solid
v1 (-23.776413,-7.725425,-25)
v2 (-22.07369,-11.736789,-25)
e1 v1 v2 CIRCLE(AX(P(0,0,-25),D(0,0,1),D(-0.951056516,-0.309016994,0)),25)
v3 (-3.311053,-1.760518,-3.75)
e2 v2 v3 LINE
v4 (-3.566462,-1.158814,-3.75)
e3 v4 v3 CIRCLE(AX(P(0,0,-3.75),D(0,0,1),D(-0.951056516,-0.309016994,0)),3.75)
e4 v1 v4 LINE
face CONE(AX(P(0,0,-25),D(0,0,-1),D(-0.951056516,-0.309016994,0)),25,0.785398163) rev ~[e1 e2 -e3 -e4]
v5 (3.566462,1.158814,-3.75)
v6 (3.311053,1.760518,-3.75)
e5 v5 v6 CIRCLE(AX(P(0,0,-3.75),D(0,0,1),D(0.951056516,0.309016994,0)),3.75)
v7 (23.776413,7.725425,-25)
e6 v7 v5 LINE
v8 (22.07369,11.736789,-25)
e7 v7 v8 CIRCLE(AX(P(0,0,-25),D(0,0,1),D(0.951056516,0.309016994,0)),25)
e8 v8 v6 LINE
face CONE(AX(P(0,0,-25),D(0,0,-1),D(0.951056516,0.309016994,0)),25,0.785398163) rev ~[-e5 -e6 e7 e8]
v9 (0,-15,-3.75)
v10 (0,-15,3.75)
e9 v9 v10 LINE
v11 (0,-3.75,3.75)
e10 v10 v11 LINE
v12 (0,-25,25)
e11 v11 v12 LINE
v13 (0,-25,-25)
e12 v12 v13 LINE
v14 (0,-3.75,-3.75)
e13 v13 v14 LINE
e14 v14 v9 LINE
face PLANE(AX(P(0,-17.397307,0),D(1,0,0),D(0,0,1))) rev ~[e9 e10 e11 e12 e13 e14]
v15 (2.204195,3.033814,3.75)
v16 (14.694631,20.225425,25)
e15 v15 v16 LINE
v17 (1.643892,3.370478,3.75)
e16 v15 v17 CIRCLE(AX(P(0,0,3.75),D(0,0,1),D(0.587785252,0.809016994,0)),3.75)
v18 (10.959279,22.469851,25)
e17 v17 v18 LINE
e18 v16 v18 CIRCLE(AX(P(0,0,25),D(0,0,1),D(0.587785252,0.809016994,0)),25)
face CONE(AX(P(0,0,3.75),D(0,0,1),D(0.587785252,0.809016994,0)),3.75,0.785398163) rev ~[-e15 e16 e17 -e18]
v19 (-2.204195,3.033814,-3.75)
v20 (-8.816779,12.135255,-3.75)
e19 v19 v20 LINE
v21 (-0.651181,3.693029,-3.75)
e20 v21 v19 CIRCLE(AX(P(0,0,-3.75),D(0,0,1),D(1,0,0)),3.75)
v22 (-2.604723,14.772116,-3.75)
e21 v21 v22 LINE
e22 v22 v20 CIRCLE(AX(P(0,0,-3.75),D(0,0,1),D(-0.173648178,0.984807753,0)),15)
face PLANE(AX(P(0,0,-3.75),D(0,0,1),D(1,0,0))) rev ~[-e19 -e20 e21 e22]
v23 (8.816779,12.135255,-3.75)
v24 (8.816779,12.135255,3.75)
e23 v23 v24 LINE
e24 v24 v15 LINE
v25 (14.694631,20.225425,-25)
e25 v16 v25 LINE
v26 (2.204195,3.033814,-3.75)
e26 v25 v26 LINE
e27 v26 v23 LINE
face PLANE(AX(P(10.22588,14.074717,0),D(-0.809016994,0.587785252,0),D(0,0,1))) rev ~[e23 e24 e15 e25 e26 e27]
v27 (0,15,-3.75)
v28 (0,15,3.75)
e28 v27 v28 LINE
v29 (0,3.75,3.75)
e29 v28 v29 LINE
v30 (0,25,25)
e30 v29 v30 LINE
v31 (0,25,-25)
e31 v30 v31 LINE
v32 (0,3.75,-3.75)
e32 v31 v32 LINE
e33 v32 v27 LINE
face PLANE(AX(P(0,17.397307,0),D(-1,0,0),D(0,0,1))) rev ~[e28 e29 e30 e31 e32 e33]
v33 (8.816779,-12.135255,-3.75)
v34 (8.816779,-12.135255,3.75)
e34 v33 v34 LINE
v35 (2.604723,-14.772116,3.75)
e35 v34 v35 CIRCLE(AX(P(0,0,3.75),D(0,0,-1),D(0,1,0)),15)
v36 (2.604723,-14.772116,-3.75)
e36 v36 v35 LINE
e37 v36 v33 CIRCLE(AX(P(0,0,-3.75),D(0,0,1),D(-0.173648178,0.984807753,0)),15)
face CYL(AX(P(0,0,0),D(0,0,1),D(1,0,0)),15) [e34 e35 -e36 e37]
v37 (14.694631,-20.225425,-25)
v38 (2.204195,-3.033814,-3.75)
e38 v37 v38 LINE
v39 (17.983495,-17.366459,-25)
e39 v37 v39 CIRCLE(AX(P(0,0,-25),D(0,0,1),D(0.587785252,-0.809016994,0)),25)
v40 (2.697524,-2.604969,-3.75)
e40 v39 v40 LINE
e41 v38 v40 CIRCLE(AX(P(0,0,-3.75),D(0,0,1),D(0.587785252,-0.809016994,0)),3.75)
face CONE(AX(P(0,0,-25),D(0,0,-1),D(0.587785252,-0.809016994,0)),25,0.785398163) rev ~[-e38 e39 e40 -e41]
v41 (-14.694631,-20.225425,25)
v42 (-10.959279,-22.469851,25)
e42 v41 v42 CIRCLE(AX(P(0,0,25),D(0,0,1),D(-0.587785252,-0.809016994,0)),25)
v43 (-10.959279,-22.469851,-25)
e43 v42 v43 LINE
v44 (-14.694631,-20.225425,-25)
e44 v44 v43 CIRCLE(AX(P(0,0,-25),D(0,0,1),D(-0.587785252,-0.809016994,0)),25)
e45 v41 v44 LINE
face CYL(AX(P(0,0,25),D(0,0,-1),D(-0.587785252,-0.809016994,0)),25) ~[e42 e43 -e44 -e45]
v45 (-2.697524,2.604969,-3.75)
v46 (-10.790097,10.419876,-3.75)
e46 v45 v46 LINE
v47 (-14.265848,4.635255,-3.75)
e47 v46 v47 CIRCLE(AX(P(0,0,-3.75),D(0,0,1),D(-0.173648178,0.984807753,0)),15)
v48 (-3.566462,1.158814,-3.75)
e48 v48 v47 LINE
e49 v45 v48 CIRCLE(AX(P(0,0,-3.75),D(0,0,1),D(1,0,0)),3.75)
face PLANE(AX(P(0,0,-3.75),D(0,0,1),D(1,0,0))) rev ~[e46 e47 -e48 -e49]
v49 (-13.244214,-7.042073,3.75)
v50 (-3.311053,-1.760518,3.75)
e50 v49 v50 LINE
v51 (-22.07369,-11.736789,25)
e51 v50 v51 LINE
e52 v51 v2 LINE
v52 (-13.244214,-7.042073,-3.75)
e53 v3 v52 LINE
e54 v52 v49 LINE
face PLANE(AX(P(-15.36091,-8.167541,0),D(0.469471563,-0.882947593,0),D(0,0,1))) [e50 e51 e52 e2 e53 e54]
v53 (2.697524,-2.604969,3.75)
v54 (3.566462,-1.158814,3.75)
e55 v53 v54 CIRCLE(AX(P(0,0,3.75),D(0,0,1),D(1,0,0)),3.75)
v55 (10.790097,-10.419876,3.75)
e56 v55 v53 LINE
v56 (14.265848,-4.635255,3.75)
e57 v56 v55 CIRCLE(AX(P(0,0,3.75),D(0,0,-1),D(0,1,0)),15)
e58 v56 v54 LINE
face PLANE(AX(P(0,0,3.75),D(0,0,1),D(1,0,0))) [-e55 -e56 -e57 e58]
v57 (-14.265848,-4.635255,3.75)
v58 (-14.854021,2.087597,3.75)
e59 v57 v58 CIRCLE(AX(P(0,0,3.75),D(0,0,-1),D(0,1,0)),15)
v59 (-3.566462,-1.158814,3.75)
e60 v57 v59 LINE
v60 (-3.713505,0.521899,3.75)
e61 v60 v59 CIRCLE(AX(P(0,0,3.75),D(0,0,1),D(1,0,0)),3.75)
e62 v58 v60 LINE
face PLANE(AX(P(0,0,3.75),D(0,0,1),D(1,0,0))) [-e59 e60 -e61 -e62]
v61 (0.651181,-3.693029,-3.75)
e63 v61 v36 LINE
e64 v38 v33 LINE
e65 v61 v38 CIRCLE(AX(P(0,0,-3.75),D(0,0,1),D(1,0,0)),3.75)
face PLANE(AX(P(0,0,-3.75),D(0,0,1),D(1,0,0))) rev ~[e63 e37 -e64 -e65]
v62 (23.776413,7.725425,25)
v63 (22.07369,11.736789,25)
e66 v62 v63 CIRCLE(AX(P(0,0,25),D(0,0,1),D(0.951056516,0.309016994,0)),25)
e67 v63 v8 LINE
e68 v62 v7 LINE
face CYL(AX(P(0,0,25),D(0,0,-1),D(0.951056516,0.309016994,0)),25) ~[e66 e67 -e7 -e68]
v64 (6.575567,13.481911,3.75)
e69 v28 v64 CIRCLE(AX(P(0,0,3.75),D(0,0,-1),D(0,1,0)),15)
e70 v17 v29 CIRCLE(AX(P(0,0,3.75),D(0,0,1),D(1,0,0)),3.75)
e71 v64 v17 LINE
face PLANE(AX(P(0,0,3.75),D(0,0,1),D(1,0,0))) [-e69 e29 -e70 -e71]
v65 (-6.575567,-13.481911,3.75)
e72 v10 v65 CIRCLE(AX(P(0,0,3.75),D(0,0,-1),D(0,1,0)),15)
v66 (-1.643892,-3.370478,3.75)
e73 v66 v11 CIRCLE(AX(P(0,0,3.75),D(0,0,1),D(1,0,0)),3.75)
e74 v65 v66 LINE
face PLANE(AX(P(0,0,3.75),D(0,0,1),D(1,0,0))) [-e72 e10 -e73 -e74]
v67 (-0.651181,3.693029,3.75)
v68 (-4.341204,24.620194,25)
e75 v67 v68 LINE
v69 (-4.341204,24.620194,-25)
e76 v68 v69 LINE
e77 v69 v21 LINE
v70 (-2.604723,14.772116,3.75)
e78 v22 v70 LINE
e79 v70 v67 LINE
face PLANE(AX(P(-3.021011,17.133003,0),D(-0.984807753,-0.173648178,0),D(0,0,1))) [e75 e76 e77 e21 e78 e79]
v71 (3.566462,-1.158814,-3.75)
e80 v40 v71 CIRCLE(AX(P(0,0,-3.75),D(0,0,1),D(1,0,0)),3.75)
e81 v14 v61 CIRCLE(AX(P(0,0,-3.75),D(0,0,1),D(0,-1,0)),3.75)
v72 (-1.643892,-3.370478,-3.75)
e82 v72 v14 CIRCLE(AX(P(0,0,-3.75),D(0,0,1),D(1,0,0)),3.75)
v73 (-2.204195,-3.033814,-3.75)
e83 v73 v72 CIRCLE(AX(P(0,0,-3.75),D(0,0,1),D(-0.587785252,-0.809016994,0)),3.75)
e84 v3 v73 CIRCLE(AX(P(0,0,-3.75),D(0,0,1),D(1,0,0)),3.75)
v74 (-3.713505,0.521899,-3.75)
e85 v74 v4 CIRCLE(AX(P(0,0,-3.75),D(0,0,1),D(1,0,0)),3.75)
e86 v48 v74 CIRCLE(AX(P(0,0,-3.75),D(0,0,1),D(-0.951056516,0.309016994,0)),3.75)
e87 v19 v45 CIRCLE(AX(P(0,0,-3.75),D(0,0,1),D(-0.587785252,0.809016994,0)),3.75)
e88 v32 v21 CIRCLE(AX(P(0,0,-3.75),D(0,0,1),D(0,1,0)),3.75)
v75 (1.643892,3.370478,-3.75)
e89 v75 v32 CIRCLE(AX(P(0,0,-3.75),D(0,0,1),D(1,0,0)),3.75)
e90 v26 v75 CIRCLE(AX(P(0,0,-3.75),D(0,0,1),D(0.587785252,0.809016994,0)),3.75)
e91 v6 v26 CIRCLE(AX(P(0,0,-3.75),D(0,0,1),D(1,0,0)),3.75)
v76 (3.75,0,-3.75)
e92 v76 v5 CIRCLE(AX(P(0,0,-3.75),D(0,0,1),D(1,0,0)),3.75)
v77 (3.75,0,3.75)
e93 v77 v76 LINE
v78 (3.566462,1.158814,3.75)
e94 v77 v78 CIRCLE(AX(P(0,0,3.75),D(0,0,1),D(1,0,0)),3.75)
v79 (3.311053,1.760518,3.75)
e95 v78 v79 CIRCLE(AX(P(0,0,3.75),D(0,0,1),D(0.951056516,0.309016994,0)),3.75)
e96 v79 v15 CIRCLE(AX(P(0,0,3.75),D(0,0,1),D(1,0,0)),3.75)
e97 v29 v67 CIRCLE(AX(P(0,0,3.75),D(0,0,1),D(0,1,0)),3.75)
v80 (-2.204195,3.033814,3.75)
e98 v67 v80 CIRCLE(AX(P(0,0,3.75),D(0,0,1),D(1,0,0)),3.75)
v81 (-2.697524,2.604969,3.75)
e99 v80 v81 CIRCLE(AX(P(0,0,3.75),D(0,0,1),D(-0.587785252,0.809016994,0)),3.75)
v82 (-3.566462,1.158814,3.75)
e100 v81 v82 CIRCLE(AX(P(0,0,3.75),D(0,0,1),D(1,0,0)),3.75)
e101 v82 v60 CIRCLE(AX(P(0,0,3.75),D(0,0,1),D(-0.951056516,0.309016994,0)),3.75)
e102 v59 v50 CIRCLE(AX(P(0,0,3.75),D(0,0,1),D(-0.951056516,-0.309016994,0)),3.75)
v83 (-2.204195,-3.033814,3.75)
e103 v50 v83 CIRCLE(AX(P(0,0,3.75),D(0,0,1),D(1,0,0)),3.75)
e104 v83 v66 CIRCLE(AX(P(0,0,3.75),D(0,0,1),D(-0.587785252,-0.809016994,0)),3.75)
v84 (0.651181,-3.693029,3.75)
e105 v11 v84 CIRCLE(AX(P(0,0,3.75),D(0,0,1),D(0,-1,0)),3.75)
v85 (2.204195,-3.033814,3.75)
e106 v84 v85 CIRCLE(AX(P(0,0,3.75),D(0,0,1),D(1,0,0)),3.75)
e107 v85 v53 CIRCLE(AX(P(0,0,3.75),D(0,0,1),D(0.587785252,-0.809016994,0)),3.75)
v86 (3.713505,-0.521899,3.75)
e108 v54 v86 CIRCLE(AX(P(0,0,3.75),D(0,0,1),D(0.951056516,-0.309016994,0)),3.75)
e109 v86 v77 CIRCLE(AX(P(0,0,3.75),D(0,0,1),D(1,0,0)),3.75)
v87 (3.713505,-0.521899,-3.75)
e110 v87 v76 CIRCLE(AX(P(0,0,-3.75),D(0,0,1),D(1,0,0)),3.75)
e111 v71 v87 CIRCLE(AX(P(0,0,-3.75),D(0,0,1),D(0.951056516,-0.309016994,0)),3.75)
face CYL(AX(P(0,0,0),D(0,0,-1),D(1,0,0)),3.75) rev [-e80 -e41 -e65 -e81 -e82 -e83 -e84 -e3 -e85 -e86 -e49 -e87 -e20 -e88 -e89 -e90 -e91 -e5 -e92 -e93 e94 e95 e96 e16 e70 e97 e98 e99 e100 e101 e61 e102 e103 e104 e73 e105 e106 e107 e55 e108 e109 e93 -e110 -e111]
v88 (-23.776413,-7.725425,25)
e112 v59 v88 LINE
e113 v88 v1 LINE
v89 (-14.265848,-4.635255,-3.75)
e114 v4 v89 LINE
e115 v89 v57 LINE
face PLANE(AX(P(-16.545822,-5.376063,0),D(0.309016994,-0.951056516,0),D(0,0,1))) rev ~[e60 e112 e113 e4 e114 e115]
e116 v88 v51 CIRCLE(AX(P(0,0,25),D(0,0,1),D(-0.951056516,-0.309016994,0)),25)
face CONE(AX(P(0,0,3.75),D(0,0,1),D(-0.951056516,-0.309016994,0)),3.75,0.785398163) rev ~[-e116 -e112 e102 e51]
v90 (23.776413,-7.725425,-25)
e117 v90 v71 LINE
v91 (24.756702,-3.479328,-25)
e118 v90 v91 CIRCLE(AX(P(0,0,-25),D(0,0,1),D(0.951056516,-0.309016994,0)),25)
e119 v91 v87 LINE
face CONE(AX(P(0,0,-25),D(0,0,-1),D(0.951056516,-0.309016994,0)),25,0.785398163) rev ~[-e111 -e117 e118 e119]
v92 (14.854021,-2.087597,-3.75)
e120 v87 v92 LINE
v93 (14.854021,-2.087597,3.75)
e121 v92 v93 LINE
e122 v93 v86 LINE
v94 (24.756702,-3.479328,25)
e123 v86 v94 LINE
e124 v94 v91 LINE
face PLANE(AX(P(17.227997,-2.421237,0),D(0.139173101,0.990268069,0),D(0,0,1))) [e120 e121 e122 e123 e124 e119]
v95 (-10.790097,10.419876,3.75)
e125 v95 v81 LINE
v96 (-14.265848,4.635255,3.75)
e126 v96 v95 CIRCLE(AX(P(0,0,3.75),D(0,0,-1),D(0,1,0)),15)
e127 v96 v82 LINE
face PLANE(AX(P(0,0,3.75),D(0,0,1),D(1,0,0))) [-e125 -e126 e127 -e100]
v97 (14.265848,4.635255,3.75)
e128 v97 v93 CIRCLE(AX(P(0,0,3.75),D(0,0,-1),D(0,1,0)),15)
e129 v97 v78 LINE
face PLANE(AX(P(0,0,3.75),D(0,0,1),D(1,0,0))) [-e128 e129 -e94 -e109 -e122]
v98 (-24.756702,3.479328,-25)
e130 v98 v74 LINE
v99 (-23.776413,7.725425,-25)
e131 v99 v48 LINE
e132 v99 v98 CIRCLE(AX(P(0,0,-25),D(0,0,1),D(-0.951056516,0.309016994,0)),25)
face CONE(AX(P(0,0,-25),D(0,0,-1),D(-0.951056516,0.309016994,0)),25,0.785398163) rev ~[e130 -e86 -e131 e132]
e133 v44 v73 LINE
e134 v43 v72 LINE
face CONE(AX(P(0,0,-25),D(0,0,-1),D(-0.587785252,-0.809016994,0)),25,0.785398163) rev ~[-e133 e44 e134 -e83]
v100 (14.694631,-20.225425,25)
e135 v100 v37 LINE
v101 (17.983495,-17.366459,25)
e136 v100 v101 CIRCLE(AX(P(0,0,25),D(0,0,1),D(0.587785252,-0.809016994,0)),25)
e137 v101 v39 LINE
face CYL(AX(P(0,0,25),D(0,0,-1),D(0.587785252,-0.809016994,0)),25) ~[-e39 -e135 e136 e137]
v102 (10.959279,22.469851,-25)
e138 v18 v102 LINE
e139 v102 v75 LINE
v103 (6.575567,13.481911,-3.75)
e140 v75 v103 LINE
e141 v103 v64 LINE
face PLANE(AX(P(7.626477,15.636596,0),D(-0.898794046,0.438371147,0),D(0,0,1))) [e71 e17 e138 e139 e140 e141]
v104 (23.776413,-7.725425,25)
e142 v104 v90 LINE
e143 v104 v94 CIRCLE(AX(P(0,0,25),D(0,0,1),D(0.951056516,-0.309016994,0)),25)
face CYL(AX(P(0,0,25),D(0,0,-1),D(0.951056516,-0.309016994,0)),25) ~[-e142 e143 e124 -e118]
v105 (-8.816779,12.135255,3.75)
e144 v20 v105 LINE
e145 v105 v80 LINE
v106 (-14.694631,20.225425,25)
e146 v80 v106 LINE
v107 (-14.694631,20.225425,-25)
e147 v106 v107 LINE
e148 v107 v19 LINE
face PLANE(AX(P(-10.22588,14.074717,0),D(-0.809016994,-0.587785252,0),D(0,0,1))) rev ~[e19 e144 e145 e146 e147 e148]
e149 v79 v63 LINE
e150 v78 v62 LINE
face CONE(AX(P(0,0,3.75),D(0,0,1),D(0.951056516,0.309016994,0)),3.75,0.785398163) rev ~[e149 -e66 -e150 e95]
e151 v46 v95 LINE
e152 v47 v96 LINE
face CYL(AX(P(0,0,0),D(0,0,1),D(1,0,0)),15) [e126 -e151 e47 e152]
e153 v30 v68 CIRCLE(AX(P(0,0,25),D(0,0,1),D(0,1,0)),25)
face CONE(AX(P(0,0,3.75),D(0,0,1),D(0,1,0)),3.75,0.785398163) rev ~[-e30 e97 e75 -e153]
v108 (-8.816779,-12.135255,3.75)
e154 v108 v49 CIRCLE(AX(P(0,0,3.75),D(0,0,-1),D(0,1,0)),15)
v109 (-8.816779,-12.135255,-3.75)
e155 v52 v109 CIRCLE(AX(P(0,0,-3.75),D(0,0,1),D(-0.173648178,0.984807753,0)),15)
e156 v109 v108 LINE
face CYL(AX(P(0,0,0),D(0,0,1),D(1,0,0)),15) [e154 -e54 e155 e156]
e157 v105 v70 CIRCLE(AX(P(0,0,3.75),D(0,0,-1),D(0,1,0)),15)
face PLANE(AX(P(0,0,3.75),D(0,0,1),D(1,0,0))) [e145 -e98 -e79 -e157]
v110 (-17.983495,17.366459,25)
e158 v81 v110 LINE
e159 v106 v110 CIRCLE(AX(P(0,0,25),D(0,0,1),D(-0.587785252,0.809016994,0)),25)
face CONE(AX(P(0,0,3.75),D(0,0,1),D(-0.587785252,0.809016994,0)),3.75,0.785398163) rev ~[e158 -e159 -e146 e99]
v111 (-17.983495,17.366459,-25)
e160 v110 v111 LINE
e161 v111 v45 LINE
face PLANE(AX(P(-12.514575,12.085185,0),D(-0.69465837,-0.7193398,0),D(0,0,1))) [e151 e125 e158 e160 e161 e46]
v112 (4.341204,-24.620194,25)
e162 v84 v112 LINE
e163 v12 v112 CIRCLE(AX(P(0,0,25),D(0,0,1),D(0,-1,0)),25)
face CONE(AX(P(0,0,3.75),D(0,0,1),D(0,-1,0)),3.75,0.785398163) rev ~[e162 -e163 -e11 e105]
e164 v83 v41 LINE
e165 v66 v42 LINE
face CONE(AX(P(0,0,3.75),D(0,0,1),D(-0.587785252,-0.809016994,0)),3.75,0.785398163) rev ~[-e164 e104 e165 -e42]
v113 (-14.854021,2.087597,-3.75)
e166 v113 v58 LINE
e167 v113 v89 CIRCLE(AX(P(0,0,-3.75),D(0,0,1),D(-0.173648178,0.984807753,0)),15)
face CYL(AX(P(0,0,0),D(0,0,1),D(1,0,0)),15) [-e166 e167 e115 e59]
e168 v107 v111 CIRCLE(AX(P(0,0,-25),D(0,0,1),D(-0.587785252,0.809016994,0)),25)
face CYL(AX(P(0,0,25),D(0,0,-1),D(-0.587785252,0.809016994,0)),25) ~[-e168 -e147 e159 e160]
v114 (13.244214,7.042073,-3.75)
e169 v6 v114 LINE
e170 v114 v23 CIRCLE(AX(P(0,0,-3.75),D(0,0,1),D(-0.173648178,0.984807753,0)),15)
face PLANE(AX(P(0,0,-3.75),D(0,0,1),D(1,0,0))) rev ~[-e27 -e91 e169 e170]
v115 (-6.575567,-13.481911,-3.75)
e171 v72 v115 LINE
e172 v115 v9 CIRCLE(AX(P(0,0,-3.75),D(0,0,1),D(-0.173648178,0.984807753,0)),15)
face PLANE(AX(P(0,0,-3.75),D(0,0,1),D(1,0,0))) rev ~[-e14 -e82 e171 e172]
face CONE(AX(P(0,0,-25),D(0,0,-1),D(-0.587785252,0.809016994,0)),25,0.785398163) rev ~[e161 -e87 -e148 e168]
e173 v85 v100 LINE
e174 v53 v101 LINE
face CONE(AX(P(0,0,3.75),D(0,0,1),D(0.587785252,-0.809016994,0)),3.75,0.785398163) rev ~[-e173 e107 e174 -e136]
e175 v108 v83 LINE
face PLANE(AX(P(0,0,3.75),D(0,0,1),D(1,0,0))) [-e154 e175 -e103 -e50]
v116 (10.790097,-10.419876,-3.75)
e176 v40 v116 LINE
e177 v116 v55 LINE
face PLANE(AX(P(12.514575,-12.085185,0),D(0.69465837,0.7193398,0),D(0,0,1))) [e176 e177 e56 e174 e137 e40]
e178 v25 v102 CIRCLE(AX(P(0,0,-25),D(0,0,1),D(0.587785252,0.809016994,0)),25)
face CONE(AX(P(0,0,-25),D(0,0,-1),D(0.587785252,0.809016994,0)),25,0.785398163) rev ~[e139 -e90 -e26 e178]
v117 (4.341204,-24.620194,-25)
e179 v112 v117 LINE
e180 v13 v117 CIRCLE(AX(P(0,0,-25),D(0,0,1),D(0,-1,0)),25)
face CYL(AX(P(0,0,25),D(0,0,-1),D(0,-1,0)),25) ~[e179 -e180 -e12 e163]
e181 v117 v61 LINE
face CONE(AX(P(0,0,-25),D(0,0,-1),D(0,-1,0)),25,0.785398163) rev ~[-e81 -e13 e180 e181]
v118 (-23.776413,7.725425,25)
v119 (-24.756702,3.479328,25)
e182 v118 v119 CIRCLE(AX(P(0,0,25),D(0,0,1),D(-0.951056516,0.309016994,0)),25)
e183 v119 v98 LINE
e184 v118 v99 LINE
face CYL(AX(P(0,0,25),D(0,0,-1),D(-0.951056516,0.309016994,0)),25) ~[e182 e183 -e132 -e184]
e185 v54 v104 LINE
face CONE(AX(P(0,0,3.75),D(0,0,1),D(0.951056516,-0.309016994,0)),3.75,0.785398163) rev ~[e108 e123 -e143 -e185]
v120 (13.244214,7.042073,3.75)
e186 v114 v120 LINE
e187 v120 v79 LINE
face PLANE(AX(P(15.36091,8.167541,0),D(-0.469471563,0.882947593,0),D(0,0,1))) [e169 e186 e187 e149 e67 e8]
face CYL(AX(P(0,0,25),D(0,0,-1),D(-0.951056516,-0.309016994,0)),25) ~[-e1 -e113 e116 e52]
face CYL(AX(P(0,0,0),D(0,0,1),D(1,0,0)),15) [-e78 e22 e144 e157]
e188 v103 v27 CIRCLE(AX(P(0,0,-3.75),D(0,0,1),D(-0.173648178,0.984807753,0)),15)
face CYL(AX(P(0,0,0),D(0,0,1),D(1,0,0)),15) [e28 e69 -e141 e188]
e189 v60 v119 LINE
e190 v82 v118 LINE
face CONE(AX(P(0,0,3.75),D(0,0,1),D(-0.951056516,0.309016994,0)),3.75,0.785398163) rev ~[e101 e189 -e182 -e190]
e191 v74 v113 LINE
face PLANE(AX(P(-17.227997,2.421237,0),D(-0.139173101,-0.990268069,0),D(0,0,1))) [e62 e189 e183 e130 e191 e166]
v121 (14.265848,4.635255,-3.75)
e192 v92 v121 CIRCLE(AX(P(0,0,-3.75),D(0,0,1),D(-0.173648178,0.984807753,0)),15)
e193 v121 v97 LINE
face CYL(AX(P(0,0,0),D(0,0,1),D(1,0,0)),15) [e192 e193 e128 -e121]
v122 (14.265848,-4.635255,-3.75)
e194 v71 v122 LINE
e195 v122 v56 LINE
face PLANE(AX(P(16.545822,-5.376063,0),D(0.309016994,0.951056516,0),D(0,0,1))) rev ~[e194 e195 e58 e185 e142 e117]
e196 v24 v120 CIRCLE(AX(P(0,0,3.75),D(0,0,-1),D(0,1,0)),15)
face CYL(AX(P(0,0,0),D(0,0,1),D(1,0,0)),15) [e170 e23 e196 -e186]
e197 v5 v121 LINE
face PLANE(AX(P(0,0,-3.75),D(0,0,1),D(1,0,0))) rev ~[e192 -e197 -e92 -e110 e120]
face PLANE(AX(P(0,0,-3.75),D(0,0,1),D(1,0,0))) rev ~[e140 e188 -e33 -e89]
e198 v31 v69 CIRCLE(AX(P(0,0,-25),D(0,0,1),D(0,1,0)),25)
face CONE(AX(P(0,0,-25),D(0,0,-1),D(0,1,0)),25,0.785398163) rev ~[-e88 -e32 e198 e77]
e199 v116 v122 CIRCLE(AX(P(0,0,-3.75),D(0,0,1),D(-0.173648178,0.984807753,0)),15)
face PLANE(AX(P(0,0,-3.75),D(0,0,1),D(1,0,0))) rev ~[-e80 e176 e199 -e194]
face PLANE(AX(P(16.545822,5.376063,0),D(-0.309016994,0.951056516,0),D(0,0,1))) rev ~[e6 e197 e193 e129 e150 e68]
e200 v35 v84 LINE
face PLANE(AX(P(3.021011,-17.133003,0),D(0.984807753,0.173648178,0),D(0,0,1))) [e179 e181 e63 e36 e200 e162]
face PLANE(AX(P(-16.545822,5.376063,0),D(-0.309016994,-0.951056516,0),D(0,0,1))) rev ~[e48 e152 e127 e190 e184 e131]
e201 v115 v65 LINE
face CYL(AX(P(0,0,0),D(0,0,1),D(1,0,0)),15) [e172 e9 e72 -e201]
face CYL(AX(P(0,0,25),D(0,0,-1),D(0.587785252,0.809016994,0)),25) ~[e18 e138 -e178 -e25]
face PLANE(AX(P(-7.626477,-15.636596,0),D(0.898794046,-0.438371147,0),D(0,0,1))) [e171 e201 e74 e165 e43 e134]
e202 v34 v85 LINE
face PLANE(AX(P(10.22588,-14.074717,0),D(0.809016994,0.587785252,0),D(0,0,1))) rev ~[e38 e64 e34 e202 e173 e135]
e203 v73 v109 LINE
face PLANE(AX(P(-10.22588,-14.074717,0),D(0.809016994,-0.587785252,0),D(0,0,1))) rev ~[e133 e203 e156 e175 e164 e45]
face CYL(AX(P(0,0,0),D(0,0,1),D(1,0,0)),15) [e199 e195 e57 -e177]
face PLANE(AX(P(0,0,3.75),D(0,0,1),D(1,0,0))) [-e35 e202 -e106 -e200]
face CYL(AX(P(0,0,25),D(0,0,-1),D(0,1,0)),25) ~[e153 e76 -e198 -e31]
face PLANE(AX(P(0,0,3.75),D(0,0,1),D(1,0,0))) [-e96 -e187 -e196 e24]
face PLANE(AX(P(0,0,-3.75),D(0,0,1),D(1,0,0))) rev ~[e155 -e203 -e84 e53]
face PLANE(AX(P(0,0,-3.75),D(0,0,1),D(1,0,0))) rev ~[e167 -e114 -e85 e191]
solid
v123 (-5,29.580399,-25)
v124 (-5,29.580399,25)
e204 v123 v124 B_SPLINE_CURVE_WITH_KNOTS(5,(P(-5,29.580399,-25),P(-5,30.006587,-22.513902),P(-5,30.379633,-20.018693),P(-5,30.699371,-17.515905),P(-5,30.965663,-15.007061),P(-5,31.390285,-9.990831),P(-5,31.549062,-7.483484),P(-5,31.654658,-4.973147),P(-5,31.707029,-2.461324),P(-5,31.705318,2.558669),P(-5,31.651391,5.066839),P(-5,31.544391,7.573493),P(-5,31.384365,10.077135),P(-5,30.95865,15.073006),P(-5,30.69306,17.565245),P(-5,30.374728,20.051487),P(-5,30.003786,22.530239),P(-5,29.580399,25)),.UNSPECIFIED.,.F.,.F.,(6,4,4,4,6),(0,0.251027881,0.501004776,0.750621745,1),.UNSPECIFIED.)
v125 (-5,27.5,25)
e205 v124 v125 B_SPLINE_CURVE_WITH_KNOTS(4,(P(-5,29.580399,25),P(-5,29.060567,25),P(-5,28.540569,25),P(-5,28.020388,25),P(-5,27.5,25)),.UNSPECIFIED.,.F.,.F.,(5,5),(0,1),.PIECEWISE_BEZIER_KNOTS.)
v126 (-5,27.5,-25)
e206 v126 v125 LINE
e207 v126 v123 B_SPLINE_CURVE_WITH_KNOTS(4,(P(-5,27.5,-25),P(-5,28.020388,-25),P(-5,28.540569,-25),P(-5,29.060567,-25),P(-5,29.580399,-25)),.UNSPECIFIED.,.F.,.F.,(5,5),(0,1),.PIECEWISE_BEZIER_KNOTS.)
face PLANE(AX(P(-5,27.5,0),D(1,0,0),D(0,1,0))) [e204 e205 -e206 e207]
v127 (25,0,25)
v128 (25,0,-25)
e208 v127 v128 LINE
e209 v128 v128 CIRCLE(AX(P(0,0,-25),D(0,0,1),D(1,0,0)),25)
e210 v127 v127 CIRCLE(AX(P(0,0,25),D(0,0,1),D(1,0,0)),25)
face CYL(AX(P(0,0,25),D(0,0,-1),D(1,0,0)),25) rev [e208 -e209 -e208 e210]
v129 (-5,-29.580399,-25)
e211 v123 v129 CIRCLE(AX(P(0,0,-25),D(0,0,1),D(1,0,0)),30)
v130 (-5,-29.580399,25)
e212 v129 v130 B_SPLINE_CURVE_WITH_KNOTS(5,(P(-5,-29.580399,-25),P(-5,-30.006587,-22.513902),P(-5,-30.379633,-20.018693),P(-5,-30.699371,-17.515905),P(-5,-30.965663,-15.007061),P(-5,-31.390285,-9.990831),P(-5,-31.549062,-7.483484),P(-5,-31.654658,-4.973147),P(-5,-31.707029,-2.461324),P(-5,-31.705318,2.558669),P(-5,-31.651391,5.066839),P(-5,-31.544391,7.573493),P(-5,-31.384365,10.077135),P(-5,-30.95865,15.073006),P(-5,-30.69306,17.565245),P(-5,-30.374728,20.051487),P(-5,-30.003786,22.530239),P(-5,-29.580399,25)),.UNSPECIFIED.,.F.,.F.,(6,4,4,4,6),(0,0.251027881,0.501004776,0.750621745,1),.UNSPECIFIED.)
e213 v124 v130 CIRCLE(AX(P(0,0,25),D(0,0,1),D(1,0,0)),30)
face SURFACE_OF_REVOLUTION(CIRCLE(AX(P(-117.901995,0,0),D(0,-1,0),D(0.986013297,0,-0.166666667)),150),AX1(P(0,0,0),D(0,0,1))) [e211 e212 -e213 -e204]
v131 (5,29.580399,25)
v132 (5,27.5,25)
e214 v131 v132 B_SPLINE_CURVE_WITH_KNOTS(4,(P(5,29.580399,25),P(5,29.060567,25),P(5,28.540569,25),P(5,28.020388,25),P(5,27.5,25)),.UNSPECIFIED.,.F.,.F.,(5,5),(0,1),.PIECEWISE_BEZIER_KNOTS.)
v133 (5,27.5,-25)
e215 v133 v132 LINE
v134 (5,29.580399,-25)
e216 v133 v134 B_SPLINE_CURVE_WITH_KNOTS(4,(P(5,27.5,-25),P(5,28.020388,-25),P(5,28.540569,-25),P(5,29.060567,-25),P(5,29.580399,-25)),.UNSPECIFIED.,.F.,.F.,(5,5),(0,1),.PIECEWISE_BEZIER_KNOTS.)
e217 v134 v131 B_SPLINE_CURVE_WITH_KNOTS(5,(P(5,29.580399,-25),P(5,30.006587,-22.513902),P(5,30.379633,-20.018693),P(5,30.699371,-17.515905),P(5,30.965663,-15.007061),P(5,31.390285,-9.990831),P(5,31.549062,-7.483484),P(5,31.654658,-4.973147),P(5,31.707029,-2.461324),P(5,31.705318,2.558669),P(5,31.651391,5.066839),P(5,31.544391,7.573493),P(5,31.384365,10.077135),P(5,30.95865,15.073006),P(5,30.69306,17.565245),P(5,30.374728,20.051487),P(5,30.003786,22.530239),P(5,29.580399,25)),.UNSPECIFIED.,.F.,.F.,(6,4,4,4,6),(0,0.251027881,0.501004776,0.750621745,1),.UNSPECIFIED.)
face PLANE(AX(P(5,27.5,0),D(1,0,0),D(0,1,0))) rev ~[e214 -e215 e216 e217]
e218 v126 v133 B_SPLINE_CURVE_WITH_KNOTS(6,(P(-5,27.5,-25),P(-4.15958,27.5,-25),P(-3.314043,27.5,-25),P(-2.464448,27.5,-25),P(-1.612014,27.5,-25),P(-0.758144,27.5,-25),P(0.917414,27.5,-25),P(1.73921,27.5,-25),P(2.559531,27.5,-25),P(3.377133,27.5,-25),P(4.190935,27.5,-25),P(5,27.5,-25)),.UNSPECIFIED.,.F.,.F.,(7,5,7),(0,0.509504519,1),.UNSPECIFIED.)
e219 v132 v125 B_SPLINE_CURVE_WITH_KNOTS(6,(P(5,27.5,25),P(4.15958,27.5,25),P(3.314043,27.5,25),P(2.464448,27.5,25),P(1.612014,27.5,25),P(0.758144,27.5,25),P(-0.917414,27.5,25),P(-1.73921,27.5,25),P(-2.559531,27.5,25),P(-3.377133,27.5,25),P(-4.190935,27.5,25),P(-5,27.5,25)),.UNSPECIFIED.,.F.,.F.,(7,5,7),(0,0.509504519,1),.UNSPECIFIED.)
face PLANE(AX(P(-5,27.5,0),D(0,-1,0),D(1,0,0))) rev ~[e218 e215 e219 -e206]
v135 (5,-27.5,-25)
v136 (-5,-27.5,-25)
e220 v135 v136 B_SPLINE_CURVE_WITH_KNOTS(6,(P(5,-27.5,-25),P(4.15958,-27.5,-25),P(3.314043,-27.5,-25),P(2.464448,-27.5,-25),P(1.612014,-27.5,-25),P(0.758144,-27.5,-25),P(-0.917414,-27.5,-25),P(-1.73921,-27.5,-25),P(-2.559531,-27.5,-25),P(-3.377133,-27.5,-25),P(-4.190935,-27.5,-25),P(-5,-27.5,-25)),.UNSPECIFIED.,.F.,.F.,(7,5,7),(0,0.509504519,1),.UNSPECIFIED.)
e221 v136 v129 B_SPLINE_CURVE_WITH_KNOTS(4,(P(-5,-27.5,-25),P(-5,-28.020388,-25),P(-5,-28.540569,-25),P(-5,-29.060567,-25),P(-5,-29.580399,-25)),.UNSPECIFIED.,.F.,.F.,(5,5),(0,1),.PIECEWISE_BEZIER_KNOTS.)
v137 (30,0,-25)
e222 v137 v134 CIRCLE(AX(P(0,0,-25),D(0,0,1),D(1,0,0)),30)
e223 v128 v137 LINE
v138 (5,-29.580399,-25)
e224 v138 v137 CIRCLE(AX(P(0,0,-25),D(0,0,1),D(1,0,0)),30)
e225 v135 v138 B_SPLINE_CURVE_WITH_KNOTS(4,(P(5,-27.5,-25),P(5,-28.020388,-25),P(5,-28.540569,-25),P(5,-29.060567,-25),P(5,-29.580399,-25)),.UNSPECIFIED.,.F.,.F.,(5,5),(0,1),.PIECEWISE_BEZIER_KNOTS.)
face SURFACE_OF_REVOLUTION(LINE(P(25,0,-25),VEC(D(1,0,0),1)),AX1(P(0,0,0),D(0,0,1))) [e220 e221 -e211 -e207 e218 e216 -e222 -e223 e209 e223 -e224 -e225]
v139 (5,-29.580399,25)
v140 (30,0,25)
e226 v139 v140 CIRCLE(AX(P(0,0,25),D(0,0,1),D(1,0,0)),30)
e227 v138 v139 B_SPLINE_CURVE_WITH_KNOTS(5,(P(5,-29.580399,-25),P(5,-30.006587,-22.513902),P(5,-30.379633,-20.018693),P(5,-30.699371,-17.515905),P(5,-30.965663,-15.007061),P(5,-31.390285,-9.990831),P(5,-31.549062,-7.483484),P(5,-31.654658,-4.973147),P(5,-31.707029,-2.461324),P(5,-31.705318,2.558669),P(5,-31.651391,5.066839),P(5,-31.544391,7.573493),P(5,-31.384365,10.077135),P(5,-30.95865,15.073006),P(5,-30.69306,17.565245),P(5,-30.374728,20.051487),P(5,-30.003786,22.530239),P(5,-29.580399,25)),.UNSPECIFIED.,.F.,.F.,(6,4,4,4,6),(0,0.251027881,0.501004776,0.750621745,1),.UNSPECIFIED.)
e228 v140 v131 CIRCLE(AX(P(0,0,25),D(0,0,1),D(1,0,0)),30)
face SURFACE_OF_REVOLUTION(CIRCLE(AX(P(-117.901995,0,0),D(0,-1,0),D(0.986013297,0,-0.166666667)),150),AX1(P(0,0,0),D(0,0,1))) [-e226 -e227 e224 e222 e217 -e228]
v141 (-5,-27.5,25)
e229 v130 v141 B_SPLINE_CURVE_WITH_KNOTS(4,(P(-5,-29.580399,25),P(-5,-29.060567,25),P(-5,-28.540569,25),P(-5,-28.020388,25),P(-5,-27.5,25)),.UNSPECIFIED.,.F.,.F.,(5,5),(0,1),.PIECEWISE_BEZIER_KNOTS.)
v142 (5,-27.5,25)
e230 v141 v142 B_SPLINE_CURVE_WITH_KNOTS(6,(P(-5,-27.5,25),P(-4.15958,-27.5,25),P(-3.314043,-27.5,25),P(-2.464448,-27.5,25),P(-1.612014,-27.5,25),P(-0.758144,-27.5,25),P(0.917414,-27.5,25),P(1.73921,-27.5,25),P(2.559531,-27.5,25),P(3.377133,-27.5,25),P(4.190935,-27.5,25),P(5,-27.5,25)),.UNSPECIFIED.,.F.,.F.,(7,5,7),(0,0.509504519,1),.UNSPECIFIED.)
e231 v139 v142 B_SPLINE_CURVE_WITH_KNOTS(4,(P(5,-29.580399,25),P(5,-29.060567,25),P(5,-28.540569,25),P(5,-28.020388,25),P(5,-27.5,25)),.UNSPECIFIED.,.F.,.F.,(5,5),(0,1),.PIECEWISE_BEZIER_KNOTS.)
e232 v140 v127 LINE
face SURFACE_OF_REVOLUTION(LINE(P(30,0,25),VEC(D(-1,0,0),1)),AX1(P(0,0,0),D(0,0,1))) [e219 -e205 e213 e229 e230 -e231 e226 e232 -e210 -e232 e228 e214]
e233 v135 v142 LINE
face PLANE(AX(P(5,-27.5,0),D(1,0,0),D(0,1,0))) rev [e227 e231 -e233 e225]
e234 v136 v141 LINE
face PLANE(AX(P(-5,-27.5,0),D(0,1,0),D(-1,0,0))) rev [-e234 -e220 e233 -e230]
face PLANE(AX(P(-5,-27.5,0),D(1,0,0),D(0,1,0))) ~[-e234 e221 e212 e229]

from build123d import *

# Parameters (mm, degrees)
SKETCH4_R           = 15
SKETCH4_R_2         = 3.75
BOSS_EXTRUDE1_DEPTH = 3.75
REVOLVE1_ANGLE      = 10
CIRPATTERN1_COUNT   = 10
SKETCH7_W           = 10
SKETCH7_H           = 7.5
CUT_EXTRUDE1_DEPTH  = 52.822426825


with BuildPart() as part:
    # Sweep1: sweep along a path in Sketch3
    with BuildLine(Plane.XY) as sweep1_path:
        CenterArc((0, 0), 30, 0, 360)
    # Sketch1 → Sweep1 (sweep)
    with BuildSketch(Plane(origin=(0, 0, 0), x_dir=(0, 0, -1), z_dir=(1, 0, 0))):
        with BuildLine():
            Line((-25, 30), (-25, 25))
            Line((-25, 25), (25, 25))
            Line((25, 25), (25, 30))
            ThreePointArc((25, 30), (0, 32.098005423), (-25, 30))
        make_face()
    sweep(path=sweep1_path.line)

    # Sketch7 → Cut-Extrude1 (cut, symmetric)
    with BuildSketch(Plane.XY):
        with Locations((0, 31.25)):
            Rectangle(SKETCH7_W, SKETCH7_H)
    cut_extrude1 = extrude(amount=CUT_EXTRUDE1_DEPTH, both=True, mode=Mode.SUBTRACT)

    # Mirror1: Cut-Extrude1 across plane
    add(cut_extrude1.mirror(Plane.ZX), mode=Mode.SUBTRACT)


with BuildPart() as body_2:
    # Sketch4 → Boss-Extrude1 (new, symmetric)
    with BuildSketch(Plane.XY):
        Circle(SKETCH4_R)
        Circle(SKETCH4_R_2, mode=Mode.SUBTRACT)
    extrude(amount=BOSS_EXTRUDE1_DEPTH, both=True)

    # Sketch6 → Revolve1 (revolve)
    with BuildSketch(Plane(origin=(0, 0, 0), x_dir=(0, 0, -1), z_dir=(1, 0, 0))):
        Polygon((-25, 25), (25, 25), (3.75, 3.75), (3.75, 15), (-3.75, 15), (-3.75, 3.75), align=None)
    revolve1 = revolve(axis=Axis((0, 0, -26.331150218), (0, 0, 1)), revolution_arc=REVOLVE1_ANGLE)

    # CirPattern1: Revolve1 ×10 about axis
    cirpattern1_axis = Axis((0, 0, 0), (0, 0, 1))
    for i in range(1, CIRPATTERN1_COUNT):
        add(revolve1.rotate(cirpattern1_axis, i * 360 / CIRPATTERN1_COUNT))


solid = Compound([part.part, body_2.part])
